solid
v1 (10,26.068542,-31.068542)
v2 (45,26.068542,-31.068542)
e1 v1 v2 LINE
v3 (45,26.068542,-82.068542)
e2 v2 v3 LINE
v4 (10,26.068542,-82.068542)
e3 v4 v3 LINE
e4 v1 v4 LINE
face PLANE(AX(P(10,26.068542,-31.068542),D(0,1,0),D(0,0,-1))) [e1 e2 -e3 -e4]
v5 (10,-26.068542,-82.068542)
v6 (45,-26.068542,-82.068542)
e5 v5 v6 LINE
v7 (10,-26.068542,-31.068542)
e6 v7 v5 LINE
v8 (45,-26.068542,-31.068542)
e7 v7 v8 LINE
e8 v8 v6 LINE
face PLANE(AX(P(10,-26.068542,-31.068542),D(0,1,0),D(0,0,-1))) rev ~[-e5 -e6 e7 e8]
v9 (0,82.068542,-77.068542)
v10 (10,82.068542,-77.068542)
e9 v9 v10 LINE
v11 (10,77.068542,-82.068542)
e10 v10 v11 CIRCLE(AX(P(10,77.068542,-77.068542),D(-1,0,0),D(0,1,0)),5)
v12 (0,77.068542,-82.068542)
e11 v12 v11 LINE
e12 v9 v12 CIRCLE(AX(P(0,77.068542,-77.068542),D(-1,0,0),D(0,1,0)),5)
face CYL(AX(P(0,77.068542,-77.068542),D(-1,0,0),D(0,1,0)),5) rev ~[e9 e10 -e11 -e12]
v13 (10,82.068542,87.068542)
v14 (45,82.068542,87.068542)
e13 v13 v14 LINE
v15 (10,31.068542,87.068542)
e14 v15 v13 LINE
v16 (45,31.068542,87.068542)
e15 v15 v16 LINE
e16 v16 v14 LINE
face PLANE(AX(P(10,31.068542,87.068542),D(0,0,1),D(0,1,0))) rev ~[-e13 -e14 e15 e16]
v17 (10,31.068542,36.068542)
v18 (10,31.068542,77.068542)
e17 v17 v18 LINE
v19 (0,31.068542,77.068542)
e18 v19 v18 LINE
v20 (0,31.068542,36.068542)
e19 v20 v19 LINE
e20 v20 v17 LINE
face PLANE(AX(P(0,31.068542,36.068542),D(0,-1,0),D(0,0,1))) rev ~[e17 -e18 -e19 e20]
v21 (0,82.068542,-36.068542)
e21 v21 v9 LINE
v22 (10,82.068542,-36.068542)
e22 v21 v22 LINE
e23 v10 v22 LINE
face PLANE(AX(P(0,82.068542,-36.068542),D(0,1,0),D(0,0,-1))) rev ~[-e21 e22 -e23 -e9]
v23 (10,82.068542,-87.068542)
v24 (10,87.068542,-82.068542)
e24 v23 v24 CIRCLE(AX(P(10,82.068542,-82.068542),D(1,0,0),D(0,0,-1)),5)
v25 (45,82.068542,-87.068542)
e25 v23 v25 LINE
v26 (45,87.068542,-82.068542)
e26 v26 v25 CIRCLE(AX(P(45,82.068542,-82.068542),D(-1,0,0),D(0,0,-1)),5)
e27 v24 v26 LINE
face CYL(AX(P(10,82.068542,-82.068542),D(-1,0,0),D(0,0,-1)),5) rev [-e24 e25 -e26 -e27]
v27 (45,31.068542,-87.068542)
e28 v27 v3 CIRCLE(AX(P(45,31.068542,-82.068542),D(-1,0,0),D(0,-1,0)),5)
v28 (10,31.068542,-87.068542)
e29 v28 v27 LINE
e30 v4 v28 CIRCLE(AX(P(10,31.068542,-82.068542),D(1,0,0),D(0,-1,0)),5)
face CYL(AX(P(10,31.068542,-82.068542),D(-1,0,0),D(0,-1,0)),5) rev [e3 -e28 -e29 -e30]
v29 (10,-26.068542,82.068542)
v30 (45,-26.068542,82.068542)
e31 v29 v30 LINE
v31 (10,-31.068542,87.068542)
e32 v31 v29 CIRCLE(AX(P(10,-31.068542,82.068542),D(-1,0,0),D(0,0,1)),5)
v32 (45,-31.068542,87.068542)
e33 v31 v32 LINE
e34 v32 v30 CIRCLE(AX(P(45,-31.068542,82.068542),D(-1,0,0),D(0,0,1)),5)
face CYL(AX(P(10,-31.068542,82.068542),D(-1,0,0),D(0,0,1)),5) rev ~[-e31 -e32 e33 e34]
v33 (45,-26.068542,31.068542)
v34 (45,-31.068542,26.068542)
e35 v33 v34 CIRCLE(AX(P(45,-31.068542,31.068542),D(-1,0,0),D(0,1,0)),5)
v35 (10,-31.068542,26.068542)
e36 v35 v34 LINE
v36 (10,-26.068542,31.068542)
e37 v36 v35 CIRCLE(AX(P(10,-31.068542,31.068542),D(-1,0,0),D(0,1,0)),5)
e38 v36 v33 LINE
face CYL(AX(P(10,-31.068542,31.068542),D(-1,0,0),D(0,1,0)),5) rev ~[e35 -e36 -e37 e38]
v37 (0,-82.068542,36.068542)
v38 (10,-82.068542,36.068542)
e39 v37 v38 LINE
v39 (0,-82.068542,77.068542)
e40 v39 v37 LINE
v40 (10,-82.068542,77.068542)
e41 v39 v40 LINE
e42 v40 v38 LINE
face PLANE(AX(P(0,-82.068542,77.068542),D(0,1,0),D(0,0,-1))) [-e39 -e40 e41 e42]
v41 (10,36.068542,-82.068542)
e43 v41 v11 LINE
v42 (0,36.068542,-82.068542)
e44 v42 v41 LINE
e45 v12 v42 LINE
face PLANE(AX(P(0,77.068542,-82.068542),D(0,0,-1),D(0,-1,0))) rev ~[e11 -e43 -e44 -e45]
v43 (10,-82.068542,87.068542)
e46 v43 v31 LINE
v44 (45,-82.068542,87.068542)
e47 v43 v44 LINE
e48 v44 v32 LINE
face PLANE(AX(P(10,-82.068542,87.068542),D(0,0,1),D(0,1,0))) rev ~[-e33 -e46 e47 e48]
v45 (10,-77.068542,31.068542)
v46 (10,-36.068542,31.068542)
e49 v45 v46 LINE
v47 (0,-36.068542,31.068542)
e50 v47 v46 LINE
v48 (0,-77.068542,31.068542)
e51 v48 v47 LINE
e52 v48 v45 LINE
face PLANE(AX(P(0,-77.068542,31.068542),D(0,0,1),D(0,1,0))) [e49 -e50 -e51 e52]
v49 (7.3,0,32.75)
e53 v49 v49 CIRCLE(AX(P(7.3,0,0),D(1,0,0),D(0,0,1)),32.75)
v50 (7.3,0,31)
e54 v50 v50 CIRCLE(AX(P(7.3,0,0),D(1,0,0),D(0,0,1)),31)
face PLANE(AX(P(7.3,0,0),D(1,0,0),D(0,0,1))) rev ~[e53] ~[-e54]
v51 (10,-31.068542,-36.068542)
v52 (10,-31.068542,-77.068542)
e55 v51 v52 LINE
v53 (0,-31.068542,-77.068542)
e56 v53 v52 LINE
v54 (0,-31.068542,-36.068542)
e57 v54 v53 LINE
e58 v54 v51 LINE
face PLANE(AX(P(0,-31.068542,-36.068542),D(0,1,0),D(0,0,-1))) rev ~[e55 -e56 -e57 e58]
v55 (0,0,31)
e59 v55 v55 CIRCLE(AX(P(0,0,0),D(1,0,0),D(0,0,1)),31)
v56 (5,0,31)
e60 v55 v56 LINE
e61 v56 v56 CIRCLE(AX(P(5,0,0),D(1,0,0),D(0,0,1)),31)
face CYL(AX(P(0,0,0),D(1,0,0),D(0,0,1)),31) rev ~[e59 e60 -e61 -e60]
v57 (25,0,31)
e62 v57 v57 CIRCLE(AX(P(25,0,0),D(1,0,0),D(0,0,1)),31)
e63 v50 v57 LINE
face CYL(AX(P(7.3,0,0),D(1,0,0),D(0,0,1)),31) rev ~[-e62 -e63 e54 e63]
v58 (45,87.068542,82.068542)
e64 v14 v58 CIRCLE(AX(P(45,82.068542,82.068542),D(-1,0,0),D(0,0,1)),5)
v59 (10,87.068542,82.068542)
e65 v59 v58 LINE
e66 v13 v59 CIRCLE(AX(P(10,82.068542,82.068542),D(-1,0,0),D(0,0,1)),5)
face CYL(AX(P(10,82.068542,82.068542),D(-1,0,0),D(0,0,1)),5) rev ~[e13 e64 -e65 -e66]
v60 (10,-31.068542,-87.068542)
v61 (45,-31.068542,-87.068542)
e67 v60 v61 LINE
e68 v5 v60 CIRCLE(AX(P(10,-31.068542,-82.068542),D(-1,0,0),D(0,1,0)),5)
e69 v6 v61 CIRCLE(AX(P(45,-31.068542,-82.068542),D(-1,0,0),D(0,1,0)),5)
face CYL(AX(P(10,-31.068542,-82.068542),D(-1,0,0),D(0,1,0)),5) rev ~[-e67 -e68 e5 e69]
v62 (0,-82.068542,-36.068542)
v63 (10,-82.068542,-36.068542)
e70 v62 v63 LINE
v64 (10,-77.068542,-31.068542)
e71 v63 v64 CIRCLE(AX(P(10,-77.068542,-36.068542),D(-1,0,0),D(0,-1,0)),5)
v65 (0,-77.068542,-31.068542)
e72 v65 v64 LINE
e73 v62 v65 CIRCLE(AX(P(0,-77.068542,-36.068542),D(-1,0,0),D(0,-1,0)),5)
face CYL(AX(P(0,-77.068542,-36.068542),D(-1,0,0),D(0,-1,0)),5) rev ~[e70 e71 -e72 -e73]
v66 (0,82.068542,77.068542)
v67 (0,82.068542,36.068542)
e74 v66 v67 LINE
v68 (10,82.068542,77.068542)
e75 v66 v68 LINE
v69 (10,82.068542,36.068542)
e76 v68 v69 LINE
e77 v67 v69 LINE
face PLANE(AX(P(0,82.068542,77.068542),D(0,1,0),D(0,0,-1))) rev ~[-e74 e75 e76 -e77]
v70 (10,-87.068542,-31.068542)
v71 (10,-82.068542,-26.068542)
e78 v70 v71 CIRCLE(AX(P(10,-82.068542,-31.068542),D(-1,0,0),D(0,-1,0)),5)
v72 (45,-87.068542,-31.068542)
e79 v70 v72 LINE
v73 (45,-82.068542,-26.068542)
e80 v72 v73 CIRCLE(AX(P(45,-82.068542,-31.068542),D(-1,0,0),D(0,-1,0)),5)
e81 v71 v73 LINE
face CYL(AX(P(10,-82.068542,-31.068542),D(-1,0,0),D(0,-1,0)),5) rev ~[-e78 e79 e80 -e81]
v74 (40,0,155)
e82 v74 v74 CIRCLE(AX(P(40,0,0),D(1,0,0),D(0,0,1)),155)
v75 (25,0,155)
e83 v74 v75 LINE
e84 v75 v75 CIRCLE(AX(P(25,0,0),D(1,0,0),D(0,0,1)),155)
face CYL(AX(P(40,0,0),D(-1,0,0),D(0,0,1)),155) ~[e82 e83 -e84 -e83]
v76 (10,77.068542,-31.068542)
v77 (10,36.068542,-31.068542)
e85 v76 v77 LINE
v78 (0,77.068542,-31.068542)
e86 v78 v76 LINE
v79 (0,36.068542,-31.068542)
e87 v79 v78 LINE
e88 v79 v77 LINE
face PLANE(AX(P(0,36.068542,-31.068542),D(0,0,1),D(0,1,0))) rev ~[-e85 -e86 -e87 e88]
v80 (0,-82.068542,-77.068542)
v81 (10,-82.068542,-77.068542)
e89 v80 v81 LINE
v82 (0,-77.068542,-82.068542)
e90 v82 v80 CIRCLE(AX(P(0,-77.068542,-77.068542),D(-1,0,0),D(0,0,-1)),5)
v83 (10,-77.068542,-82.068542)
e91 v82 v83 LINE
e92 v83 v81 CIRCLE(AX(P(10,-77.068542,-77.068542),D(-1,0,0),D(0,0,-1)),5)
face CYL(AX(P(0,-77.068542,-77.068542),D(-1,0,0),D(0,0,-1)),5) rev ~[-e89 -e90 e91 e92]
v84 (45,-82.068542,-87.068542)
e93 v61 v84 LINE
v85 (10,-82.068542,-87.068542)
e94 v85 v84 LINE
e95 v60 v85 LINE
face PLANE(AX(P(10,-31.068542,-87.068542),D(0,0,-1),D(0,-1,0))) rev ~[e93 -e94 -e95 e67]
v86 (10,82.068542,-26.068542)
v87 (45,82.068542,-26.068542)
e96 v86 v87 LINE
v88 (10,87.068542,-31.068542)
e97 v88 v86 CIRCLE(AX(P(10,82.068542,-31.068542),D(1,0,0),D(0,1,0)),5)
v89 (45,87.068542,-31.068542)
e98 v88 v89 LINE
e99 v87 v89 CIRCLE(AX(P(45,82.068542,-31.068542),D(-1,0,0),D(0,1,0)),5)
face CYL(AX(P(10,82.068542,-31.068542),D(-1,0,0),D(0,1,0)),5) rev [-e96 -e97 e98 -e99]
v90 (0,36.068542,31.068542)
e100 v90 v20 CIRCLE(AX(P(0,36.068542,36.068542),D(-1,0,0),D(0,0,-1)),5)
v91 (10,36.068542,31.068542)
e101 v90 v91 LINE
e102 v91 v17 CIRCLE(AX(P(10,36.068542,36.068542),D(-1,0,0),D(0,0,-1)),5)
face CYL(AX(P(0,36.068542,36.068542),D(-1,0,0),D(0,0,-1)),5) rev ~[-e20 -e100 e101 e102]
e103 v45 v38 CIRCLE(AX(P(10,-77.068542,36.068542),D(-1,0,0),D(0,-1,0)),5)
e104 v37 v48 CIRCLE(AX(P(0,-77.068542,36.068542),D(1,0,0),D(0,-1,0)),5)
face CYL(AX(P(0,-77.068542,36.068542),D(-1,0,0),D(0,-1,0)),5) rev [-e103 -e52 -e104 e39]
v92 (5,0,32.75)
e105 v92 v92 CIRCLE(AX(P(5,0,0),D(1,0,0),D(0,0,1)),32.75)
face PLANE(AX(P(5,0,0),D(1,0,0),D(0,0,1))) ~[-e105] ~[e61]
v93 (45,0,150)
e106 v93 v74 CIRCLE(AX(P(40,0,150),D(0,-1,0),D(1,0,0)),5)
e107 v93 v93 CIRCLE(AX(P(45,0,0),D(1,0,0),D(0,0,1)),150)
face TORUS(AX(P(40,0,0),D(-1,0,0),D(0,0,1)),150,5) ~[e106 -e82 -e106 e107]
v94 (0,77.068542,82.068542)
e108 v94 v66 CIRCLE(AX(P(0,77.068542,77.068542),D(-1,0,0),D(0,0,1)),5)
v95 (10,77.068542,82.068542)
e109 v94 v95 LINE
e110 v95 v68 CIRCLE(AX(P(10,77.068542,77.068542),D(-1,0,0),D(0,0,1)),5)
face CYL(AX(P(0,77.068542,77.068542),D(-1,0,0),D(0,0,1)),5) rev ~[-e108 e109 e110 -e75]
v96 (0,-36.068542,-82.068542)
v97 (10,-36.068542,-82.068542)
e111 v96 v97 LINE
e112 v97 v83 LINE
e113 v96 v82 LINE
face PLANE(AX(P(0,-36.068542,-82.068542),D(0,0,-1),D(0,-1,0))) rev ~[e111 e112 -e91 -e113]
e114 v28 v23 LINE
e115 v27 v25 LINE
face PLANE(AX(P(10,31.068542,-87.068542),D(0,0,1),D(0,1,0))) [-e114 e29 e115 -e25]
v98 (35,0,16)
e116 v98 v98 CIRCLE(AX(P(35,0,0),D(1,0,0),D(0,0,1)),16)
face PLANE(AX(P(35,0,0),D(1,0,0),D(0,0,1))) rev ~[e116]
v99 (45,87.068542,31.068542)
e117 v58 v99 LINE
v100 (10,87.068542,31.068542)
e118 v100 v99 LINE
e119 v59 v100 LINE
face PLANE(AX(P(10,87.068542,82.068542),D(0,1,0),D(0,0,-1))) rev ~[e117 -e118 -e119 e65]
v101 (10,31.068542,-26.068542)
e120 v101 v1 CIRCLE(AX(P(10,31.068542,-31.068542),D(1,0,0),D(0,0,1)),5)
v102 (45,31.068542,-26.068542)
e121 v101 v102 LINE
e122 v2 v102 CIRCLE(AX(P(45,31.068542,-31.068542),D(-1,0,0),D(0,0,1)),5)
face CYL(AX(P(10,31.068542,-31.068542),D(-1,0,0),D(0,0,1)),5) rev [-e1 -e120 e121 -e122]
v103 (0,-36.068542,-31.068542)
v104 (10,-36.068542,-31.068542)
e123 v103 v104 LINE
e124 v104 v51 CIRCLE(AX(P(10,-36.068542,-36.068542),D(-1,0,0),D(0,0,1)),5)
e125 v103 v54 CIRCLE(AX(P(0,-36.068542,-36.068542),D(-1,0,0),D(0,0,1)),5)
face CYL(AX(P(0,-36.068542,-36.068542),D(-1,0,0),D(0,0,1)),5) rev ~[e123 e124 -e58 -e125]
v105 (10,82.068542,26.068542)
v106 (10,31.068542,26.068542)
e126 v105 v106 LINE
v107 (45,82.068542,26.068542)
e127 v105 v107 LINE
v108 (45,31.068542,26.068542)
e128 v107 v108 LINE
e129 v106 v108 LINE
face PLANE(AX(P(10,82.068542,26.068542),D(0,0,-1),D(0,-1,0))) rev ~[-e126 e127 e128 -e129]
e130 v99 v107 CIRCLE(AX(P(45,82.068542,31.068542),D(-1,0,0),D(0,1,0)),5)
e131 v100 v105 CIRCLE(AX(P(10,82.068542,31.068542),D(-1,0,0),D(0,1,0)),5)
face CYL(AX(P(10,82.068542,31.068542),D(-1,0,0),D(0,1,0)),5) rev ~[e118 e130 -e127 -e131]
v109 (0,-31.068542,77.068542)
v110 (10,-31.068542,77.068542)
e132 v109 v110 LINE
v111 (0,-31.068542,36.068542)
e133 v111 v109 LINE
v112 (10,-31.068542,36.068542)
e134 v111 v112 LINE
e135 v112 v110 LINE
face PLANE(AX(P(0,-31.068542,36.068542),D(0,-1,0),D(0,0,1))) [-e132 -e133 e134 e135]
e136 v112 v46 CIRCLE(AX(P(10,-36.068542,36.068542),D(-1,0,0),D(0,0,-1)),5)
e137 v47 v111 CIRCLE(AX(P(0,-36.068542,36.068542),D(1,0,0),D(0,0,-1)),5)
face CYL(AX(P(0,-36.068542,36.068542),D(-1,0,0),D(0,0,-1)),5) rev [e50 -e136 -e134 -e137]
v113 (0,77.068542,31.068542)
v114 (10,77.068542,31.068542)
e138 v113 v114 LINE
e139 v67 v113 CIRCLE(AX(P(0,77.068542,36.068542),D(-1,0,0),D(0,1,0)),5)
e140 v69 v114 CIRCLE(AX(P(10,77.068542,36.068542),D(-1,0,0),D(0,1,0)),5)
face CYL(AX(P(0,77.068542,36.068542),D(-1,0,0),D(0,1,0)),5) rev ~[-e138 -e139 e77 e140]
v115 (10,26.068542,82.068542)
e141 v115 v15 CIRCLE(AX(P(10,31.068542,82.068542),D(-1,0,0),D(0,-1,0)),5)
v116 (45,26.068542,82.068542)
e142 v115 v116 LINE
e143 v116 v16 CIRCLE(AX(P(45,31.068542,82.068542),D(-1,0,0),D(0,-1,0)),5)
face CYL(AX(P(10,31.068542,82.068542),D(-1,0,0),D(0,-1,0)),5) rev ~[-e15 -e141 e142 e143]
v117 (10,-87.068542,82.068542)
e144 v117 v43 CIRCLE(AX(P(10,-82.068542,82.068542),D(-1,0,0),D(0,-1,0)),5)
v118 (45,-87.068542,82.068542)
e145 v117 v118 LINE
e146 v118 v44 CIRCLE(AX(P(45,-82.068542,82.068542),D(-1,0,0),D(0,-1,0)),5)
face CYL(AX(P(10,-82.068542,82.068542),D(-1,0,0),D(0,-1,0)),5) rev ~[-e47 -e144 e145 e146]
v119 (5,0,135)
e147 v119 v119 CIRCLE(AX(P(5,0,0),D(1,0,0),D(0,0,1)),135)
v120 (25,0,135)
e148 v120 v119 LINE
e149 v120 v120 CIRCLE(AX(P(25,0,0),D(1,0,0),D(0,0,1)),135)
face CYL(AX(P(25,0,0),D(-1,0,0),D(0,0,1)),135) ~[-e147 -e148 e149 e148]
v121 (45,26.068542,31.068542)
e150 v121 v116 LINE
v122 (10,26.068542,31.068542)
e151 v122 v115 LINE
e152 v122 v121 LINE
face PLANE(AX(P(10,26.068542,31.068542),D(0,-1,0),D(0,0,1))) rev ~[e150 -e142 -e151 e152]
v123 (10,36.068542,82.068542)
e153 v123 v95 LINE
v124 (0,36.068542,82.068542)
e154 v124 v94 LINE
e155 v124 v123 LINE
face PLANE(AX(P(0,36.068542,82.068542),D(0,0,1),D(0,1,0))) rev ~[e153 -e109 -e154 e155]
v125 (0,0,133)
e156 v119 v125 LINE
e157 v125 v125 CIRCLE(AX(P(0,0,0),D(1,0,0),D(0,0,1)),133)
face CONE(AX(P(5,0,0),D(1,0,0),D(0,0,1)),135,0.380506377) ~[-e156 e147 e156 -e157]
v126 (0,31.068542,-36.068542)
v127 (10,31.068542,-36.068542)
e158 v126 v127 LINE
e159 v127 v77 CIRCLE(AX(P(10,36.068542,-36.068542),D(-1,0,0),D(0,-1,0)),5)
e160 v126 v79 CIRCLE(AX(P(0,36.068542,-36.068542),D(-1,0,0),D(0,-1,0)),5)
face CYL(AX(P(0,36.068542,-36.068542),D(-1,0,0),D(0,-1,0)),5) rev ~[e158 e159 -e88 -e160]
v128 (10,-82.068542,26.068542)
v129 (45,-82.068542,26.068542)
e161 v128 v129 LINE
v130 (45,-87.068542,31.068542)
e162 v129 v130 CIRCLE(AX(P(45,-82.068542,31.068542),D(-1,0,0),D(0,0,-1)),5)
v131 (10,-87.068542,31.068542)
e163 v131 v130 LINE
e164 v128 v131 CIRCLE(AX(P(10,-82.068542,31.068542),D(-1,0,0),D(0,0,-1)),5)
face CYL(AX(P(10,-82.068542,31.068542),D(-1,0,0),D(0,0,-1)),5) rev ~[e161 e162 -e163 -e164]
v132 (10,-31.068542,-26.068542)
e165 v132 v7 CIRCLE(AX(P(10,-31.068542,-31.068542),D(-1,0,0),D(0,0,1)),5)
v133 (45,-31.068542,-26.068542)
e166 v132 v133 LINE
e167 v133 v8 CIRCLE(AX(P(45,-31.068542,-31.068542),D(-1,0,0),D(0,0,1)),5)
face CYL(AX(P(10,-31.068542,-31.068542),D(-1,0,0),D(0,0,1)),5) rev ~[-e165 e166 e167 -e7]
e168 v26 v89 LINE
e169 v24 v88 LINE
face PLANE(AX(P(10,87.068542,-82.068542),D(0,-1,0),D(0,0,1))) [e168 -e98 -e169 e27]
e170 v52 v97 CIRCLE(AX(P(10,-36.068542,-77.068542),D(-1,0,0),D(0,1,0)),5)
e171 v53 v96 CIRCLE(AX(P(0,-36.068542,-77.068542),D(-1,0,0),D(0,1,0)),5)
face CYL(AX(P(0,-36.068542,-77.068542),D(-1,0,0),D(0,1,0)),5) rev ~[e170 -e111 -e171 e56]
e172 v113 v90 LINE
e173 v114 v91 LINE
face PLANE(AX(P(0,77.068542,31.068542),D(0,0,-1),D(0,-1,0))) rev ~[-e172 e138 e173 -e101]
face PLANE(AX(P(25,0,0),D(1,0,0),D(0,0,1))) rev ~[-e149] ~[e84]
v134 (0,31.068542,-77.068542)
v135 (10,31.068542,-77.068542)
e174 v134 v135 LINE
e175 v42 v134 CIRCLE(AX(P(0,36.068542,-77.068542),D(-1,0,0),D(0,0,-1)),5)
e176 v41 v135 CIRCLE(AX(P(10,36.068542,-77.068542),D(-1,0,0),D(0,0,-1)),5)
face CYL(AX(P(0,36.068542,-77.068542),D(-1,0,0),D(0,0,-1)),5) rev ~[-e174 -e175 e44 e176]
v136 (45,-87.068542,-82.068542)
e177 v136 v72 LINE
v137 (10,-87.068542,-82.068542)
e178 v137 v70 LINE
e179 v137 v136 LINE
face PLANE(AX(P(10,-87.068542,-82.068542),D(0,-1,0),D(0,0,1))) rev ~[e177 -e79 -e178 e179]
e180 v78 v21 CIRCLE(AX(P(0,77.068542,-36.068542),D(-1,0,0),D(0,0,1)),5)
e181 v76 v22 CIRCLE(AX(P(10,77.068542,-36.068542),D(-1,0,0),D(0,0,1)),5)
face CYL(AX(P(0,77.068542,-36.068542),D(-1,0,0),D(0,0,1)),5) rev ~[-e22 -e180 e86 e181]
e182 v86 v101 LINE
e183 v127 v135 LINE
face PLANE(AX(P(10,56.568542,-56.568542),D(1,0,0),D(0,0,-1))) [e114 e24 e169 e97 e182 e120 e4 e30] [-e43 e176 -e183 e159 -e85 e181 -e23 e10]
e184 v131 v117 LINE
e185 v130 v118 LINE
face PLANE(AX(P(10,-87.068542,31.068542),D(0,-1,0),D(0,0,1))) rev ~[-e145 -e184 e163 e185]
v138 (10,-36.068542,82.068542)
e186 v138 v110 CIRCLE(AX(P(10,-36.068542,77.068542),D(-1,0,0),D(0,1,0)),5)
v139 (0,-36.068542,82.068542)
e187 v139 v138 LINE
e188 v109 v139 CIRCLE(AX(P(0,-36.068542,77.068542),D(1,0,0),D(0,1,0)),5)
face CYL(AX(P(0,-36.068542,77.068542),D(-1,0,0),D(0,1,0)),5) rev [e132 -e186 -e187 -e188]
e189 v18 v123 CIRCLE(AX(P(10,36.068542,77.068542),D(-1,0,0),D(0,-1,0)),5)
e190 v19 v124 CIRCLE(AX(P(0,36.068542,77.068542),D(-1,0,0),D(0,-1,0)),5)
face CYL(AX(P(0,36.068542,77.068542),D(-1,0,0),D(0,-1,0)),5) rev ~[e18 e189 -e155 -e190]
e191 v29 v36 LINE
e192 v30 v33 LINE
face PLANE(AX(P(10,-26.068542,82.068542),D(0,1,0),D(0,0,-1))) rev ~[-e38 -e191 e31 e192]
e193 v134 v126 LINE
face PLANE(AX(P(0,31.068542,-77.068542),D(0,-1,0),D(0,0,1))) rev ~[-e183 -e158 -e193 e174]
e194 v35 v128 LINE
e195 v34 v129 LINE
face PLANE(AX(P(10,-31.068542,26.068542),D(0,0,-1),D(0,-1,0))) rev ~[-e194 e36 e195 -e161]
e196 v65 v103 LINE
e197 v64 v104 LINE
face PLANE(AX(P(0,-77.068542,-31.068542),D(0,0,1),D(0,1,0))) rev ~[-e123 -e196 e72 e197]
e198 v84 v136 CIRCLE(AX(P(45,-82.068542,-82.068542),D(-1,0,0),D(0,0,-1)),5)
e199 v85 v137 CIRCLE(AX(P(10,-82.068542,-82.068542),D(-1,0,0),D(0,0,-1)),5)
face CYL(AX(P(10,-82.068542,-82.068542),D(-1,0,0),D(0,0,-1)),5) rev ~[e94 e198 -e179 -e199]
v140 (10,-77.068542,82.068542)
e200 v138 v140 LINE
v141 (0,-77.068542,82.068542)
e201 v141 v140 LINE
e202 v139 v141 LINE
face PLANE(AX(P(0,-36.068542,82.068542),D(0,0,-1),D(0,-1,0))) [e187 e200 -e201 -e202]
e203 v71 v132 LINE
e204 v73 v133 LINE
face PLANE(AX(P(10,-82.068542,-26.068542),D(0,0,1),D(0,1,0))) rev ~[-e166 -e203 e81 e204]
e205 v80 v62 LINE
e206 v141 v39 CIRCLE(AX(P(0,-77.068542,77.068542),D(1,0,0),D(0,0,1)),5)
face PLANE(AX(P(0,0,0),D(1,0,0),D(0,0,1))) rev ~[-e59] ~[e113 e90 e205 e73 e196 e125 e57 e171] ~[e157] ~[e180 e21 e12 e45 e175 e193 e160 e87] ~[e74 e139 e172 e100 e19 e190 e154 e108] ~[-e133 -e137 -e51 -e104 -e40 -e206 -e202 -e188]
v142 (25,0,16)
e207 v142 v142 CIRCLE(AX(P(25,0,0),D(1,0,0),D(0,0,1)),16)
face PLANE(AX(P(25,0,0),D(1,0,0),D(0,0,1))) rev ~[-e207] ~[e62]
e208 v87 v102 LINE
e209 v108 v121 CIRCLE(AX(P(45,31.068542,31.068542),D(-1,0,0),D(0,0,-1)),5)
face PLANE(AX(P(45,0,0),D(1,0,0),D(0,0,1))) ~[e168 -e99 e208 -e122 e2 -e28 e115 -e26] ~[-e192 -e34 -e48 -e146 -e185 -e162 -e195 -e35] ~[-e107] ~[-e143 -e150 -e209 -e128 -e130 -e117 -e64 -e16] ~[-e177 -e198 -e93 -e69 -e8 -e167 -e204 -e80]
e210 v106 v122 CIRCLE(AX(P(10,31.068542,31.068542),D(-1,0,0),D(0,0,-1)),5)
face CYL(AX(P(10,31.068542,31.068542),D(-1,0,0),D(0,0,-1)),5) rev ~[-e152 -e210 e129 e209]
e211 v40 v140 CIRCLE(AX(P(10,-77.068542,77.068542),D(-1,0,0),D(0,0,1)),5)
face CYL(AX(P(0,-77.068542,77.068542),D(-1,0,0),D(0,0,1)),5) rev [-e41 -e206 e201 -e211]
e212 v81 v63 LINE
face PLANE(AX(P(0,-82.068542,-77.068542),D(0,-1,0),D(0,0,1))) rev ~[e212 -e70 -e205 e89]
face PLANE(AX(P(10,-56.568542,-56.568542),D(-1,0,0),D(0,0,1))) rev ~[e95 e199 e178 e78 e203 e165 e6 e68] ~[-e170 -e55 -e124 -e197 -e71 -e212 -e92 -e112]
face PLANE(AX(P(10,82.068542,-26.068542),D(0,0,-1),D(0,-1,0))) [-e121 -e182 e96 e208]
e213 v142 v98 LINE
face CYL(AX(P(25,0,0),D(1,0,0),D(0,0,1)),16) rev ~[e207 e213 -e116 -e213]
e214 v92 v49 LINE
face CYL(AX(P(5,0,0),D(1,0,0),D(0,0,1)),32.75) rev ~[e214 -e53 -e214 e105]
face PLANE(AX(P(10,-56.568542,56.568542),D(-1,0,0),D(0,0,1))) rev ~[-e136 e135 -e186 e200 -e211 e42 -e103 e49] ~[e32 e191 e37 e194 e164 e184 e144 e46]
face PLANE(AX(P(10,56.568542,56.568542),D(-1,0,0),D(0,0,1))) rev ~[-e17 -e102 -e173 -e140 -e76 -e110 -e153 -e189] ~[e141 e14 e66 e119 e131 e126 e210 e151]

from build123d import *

# Parameters (mm, degrees)
CUT_EXTRUDE1_START = -10
CUT_EXTRUDE1_DEPTH = 214.774440026
CUT_EXTRUDE2_DEPTH = 224.774440026


with BuildPart() as part:
    # Çizim1 → Döndür1 (revolve)
    with BuildSketch(Plane.XY, mode=Mode.PRIVATE) as d_nd_r1_sk:
        with BuildLine():
            Line((0, 31), (5, 31))
            Line((5, 31), (5, 32.75))
            Line((5, 32.75), (7.3, 32.75))
            Line((7.3, 32.75), (7.3, 31))
            Line((7.3, 31), (25, 31))
            Line((25, 31), (25, 16))
            Line((25, 16), (35, 16))
            Line((35, 16), (35, 0))
            Line((35, 0), (45, 0))
            Line((45, 0), (45, 148.5))
            Line((45, 148.5), (45, 150))
            ThreePointArc((45, 150), (43.535533906, 153.535533906), (40, 155))
            Line((40, 155), (25, 155))
            Line((25, 155), (25, 135))
            Line((25, 135), (5, 135))
            Line((5, 135), (0, 133))
            Line((0, 133), (0, 31))
        make_face()
    revolve(d_nd_r1_sk.sketch.rotate(Axis((0, 0, 0), (1, 0, 0)), 90), axis=Axis((0, 0, 0), (1, 0, 0)))

    # Sketch2 → Cut-Extrude1 (cut, through all)
    with BuildSketch(Plane.ZY.offset(CUT_EXTRUDE1_START)):
        with BuildLine():
            Line((82.068542495, 87.068542495), (31.068542495, 87.068542495))
            ThreePointArc((31.068542495, 87.068542495), (27.533008589, 85.604076401), (26.068542495, 82.068542495))
            Line((26.068542495, 82.068542495), (26.068542495, 31.068542495))
            ThreePointArc((26.068542495, 31.068542495), (27.533008589, 27.533008589), (31.068542495, 26.068542495))
            Line((31.068542495, 26.068542495), (82.068542495, 26.068542495))
            ThreePointArc((82.068542495, 26.068542495), (85.604076401, 27.533008589), (87.068542495, 31.068542495))
            Line((87.068542495, 31.068542495), (87.068542495, 82.068542495))
            ThreePointArc((87.068542495, 82.068542495), (85.604076401, 85.604076401), (82.068542495, 87.068542495))
        make_face()
        with BuildLine():
            Line((-82.068542495, 87.068542495), (-31.068542495, 87.068542495))
            ThreePointArc((-31.068542495, 87.068542495), (-27.533008589, 85.604076401), (-26.068542495, 82.068542495))
            Line((-26.068542495, 82.068542495), (-26.068542495, 31.068542495))
            ThreePointArc((-26.068542495, 31.068542495), (-27.533008589, 27.533008589), (-31.068542495, 26.068542495))
            Line((-31.068542495, 26.068542495), (-82.068542495, 26.068542495))
            ThreePointArc((-82.068542495, 26.068542495), (-85.604076401, 27.533008589), (-87.068542495, 31.068542495))
            Line((-87.068542495, 31.068542495), (-87.068542495, 82.068542495))
            ThreePointArc((-87.068542495, 82.068542495), (-85.604076401, 85.604076401), (-82.068542495, 87.068542495))
        make_face()
        with BuildLine():
            Line((87.068542495, -82.068542495), (87.068542495, -31.068542495))
            ThreePointArc((87.068542495, -31.068542495), (85.604076401, -27.533008589), (82.068542495, -26.068542495))
            Line((82.068542495, -26.068542495), (31.068542495, -26.068542495))
            ThreePointArc((31.068542495, -26.068542495), (27.533008589, -27.533008589), (26.068542495, -31.068542495))
            Line((26.068542495, -31.068542495), (26.068542495, -82.068542495))
            ThreePointArc((26.068542495, -82.068542495), (27.533008589, -85.604076401), (31.068542495, -87.068542495))
            Line((31.068542495, -87.068542495), (82.068542495, -87.068542495))
            ThreePointArc((82.068542495, -87.068542495), (85.604076401, -85.604076401), (87.068542495, -82.068542495))
        make_face()
        with BuildLine():
            Line((-82.068542495, -87.068542495), (-31.068542495, -87.068542495))
            ThreePointArc((-31.068542495, -87.068542495), (-27.533008589, -85.604076401), (-26.068542495, -82.068542495))
            Line((-26.068542495, -82.068542495), (-26.068542495, -31.068542495))
            ThreePointArc((-26.068542495, -31.068542495), (-27.533008589, -27.533008589), (-31.068542495, -26.068542495))
            Line((-31.068542495, -26.068542495), (-82.068542495, -26.068542495))
            ThreePointArc((-82.068542495, -26.068542495), (-85.604076401, -27.533008589), (-87.068542495, -31.068542495))
            Line((-87.068542495, -31.068542495), (-87.068542495, -82.068542495))
            ThreePointArc((-87.068542495, -82.068542495), (-85.604076401, -85.604076401), (-82.068542495, -87.068542495))
        make_face()
    extrude(amount=-CUT_EXTRUDE1_DEPTH, mode=Mode.SUBTRACT)

    # Sketch4 → Cut-Extrude2 (cut, through all)
    with BuildSketch(Plane.ZY):
        with BuildLine():
            Line((36.068542495, -31.068542495), (77.068542495, -31.068542495))
            ThreePointArc((77.068542495, -31.068542495), (80.604076401, -32.533008589), (82.068542495, -36.068542495))
            Line((82.068542495, -36.068542495), (82.068542495, -77.068542495))
            ThreePointArc((82.068542495, -77.068542495), (80.604076401, -80.604076401), (77.068542495, -82.068542495))
            Line((77.068542495, -82.068542495), (36.068542495, -82.068542495))
            ThreePointArc((36.068542495, -82.068542495), (32.533008589, -80.604076401), (31.068542495, -77.068542495))
            Line((31.068542495, -77.068542495), (31.068542495, -36.068542495))
            ThreePointArc((31.068542495, -36.068542495), (32.533008589, -32.533008589), (36.068542495, -31.068542495))
        make_face()
        with BuildLine():
            Line((-36.068542495, -31.068542495), (-77.068542495, -31.068542495))
            ThreePointArc((-77.068542495, -31.068542495), (-80.604076401, -32.533008589), (-82.068542495, -36.068542495))
            Line((-82.068542495, -36.068542495), (-82.068542495, -77.068542495))
            ThreePointArc((-82.068542495, -77.068542495), (-80.604076401, -80.604076401), (-77.068542495, -82.068542495))
            Line((-77.068542495, -82.068542495), (-36.068542495, -82.068542495))
            ThreePointArc((-36.068542495, -82.068542495), (-32.533008589, -80.604076401), (-31.068542495, -77.068542495))
            Line((-31.068542495, -77.068542495), (-31.068542495, -36.068542495))
            ThreePointArc((-31.068542495, -36.068542495), (-32.533008589, -32.533008589), (-36.068542495, -31.068542495))
        make_face()
        with BuildLine():
            Line((-31.068542495, 36.068542495), (-31.068542495, 77.068542495))
            ThreePointArc((-31.068542495, 77.068542495), (-32.533008589, 80.604076401), (-36.068542495, 82.068542495))
            Line((-36.068542495, 82.068542495), (-77.068542495, 82.068542495))
            ThreePointArc((-77.068542495, 82.068542495), (-80.604076401, 80.604076401), (-82.068542495, 77.068542495))
            Line((-82.068542495, 77.068542495), (-82.068542495, 36.068542495))
            ThreePointArc((-82.068542495, 36.068542495), (-80.604076401, 32.533008589), (-77.068542495, 31.068542495))
            Line((-77.068542495, 31.068542495), (-36.068542495, 31.068542495))
            ThreePointArc((-36.068542495, 31.068542495), (-32.533008589, 32.533008589), (-31.068542495, 36.068542495))
        make_face()
        with BuildLine():
            Line((36.068542495, 31.068542495), (77.068542495, 31.068542495))
            ThreePointArc((77.068542495, 31.068542495), (80.604076401, 32.533008589), (82.068542495, 36.068542495))
            Line((82.068542495, 36.068542495), (82.068542495, 77.068542495))
            ThreePointArc((82.068542495, 77.068542495), (80.604076401, 80.604076401), (77.068542495, 82.068542495))
            Line((77.068542495, 82.068542495), (36.068542495, 82.068542495))
            ThreePointArc((36.068542495, 82.068542495), (32.533008589, 80.604076401), (31.068542495, 77.068542495))
            Line((31.068542495, 77.068542495), (31.068542495, 36.068542495))
            ThreePointArc((31.068542495, 36.068542495), (32.533008589, 32.533008589), (36.068542495, 31.068542495))
        make_face()
    extrude(amount=-CUT_EXTRUDE2_DEPTH, mode=Mode.SUBTRACT)


solid = part.part
